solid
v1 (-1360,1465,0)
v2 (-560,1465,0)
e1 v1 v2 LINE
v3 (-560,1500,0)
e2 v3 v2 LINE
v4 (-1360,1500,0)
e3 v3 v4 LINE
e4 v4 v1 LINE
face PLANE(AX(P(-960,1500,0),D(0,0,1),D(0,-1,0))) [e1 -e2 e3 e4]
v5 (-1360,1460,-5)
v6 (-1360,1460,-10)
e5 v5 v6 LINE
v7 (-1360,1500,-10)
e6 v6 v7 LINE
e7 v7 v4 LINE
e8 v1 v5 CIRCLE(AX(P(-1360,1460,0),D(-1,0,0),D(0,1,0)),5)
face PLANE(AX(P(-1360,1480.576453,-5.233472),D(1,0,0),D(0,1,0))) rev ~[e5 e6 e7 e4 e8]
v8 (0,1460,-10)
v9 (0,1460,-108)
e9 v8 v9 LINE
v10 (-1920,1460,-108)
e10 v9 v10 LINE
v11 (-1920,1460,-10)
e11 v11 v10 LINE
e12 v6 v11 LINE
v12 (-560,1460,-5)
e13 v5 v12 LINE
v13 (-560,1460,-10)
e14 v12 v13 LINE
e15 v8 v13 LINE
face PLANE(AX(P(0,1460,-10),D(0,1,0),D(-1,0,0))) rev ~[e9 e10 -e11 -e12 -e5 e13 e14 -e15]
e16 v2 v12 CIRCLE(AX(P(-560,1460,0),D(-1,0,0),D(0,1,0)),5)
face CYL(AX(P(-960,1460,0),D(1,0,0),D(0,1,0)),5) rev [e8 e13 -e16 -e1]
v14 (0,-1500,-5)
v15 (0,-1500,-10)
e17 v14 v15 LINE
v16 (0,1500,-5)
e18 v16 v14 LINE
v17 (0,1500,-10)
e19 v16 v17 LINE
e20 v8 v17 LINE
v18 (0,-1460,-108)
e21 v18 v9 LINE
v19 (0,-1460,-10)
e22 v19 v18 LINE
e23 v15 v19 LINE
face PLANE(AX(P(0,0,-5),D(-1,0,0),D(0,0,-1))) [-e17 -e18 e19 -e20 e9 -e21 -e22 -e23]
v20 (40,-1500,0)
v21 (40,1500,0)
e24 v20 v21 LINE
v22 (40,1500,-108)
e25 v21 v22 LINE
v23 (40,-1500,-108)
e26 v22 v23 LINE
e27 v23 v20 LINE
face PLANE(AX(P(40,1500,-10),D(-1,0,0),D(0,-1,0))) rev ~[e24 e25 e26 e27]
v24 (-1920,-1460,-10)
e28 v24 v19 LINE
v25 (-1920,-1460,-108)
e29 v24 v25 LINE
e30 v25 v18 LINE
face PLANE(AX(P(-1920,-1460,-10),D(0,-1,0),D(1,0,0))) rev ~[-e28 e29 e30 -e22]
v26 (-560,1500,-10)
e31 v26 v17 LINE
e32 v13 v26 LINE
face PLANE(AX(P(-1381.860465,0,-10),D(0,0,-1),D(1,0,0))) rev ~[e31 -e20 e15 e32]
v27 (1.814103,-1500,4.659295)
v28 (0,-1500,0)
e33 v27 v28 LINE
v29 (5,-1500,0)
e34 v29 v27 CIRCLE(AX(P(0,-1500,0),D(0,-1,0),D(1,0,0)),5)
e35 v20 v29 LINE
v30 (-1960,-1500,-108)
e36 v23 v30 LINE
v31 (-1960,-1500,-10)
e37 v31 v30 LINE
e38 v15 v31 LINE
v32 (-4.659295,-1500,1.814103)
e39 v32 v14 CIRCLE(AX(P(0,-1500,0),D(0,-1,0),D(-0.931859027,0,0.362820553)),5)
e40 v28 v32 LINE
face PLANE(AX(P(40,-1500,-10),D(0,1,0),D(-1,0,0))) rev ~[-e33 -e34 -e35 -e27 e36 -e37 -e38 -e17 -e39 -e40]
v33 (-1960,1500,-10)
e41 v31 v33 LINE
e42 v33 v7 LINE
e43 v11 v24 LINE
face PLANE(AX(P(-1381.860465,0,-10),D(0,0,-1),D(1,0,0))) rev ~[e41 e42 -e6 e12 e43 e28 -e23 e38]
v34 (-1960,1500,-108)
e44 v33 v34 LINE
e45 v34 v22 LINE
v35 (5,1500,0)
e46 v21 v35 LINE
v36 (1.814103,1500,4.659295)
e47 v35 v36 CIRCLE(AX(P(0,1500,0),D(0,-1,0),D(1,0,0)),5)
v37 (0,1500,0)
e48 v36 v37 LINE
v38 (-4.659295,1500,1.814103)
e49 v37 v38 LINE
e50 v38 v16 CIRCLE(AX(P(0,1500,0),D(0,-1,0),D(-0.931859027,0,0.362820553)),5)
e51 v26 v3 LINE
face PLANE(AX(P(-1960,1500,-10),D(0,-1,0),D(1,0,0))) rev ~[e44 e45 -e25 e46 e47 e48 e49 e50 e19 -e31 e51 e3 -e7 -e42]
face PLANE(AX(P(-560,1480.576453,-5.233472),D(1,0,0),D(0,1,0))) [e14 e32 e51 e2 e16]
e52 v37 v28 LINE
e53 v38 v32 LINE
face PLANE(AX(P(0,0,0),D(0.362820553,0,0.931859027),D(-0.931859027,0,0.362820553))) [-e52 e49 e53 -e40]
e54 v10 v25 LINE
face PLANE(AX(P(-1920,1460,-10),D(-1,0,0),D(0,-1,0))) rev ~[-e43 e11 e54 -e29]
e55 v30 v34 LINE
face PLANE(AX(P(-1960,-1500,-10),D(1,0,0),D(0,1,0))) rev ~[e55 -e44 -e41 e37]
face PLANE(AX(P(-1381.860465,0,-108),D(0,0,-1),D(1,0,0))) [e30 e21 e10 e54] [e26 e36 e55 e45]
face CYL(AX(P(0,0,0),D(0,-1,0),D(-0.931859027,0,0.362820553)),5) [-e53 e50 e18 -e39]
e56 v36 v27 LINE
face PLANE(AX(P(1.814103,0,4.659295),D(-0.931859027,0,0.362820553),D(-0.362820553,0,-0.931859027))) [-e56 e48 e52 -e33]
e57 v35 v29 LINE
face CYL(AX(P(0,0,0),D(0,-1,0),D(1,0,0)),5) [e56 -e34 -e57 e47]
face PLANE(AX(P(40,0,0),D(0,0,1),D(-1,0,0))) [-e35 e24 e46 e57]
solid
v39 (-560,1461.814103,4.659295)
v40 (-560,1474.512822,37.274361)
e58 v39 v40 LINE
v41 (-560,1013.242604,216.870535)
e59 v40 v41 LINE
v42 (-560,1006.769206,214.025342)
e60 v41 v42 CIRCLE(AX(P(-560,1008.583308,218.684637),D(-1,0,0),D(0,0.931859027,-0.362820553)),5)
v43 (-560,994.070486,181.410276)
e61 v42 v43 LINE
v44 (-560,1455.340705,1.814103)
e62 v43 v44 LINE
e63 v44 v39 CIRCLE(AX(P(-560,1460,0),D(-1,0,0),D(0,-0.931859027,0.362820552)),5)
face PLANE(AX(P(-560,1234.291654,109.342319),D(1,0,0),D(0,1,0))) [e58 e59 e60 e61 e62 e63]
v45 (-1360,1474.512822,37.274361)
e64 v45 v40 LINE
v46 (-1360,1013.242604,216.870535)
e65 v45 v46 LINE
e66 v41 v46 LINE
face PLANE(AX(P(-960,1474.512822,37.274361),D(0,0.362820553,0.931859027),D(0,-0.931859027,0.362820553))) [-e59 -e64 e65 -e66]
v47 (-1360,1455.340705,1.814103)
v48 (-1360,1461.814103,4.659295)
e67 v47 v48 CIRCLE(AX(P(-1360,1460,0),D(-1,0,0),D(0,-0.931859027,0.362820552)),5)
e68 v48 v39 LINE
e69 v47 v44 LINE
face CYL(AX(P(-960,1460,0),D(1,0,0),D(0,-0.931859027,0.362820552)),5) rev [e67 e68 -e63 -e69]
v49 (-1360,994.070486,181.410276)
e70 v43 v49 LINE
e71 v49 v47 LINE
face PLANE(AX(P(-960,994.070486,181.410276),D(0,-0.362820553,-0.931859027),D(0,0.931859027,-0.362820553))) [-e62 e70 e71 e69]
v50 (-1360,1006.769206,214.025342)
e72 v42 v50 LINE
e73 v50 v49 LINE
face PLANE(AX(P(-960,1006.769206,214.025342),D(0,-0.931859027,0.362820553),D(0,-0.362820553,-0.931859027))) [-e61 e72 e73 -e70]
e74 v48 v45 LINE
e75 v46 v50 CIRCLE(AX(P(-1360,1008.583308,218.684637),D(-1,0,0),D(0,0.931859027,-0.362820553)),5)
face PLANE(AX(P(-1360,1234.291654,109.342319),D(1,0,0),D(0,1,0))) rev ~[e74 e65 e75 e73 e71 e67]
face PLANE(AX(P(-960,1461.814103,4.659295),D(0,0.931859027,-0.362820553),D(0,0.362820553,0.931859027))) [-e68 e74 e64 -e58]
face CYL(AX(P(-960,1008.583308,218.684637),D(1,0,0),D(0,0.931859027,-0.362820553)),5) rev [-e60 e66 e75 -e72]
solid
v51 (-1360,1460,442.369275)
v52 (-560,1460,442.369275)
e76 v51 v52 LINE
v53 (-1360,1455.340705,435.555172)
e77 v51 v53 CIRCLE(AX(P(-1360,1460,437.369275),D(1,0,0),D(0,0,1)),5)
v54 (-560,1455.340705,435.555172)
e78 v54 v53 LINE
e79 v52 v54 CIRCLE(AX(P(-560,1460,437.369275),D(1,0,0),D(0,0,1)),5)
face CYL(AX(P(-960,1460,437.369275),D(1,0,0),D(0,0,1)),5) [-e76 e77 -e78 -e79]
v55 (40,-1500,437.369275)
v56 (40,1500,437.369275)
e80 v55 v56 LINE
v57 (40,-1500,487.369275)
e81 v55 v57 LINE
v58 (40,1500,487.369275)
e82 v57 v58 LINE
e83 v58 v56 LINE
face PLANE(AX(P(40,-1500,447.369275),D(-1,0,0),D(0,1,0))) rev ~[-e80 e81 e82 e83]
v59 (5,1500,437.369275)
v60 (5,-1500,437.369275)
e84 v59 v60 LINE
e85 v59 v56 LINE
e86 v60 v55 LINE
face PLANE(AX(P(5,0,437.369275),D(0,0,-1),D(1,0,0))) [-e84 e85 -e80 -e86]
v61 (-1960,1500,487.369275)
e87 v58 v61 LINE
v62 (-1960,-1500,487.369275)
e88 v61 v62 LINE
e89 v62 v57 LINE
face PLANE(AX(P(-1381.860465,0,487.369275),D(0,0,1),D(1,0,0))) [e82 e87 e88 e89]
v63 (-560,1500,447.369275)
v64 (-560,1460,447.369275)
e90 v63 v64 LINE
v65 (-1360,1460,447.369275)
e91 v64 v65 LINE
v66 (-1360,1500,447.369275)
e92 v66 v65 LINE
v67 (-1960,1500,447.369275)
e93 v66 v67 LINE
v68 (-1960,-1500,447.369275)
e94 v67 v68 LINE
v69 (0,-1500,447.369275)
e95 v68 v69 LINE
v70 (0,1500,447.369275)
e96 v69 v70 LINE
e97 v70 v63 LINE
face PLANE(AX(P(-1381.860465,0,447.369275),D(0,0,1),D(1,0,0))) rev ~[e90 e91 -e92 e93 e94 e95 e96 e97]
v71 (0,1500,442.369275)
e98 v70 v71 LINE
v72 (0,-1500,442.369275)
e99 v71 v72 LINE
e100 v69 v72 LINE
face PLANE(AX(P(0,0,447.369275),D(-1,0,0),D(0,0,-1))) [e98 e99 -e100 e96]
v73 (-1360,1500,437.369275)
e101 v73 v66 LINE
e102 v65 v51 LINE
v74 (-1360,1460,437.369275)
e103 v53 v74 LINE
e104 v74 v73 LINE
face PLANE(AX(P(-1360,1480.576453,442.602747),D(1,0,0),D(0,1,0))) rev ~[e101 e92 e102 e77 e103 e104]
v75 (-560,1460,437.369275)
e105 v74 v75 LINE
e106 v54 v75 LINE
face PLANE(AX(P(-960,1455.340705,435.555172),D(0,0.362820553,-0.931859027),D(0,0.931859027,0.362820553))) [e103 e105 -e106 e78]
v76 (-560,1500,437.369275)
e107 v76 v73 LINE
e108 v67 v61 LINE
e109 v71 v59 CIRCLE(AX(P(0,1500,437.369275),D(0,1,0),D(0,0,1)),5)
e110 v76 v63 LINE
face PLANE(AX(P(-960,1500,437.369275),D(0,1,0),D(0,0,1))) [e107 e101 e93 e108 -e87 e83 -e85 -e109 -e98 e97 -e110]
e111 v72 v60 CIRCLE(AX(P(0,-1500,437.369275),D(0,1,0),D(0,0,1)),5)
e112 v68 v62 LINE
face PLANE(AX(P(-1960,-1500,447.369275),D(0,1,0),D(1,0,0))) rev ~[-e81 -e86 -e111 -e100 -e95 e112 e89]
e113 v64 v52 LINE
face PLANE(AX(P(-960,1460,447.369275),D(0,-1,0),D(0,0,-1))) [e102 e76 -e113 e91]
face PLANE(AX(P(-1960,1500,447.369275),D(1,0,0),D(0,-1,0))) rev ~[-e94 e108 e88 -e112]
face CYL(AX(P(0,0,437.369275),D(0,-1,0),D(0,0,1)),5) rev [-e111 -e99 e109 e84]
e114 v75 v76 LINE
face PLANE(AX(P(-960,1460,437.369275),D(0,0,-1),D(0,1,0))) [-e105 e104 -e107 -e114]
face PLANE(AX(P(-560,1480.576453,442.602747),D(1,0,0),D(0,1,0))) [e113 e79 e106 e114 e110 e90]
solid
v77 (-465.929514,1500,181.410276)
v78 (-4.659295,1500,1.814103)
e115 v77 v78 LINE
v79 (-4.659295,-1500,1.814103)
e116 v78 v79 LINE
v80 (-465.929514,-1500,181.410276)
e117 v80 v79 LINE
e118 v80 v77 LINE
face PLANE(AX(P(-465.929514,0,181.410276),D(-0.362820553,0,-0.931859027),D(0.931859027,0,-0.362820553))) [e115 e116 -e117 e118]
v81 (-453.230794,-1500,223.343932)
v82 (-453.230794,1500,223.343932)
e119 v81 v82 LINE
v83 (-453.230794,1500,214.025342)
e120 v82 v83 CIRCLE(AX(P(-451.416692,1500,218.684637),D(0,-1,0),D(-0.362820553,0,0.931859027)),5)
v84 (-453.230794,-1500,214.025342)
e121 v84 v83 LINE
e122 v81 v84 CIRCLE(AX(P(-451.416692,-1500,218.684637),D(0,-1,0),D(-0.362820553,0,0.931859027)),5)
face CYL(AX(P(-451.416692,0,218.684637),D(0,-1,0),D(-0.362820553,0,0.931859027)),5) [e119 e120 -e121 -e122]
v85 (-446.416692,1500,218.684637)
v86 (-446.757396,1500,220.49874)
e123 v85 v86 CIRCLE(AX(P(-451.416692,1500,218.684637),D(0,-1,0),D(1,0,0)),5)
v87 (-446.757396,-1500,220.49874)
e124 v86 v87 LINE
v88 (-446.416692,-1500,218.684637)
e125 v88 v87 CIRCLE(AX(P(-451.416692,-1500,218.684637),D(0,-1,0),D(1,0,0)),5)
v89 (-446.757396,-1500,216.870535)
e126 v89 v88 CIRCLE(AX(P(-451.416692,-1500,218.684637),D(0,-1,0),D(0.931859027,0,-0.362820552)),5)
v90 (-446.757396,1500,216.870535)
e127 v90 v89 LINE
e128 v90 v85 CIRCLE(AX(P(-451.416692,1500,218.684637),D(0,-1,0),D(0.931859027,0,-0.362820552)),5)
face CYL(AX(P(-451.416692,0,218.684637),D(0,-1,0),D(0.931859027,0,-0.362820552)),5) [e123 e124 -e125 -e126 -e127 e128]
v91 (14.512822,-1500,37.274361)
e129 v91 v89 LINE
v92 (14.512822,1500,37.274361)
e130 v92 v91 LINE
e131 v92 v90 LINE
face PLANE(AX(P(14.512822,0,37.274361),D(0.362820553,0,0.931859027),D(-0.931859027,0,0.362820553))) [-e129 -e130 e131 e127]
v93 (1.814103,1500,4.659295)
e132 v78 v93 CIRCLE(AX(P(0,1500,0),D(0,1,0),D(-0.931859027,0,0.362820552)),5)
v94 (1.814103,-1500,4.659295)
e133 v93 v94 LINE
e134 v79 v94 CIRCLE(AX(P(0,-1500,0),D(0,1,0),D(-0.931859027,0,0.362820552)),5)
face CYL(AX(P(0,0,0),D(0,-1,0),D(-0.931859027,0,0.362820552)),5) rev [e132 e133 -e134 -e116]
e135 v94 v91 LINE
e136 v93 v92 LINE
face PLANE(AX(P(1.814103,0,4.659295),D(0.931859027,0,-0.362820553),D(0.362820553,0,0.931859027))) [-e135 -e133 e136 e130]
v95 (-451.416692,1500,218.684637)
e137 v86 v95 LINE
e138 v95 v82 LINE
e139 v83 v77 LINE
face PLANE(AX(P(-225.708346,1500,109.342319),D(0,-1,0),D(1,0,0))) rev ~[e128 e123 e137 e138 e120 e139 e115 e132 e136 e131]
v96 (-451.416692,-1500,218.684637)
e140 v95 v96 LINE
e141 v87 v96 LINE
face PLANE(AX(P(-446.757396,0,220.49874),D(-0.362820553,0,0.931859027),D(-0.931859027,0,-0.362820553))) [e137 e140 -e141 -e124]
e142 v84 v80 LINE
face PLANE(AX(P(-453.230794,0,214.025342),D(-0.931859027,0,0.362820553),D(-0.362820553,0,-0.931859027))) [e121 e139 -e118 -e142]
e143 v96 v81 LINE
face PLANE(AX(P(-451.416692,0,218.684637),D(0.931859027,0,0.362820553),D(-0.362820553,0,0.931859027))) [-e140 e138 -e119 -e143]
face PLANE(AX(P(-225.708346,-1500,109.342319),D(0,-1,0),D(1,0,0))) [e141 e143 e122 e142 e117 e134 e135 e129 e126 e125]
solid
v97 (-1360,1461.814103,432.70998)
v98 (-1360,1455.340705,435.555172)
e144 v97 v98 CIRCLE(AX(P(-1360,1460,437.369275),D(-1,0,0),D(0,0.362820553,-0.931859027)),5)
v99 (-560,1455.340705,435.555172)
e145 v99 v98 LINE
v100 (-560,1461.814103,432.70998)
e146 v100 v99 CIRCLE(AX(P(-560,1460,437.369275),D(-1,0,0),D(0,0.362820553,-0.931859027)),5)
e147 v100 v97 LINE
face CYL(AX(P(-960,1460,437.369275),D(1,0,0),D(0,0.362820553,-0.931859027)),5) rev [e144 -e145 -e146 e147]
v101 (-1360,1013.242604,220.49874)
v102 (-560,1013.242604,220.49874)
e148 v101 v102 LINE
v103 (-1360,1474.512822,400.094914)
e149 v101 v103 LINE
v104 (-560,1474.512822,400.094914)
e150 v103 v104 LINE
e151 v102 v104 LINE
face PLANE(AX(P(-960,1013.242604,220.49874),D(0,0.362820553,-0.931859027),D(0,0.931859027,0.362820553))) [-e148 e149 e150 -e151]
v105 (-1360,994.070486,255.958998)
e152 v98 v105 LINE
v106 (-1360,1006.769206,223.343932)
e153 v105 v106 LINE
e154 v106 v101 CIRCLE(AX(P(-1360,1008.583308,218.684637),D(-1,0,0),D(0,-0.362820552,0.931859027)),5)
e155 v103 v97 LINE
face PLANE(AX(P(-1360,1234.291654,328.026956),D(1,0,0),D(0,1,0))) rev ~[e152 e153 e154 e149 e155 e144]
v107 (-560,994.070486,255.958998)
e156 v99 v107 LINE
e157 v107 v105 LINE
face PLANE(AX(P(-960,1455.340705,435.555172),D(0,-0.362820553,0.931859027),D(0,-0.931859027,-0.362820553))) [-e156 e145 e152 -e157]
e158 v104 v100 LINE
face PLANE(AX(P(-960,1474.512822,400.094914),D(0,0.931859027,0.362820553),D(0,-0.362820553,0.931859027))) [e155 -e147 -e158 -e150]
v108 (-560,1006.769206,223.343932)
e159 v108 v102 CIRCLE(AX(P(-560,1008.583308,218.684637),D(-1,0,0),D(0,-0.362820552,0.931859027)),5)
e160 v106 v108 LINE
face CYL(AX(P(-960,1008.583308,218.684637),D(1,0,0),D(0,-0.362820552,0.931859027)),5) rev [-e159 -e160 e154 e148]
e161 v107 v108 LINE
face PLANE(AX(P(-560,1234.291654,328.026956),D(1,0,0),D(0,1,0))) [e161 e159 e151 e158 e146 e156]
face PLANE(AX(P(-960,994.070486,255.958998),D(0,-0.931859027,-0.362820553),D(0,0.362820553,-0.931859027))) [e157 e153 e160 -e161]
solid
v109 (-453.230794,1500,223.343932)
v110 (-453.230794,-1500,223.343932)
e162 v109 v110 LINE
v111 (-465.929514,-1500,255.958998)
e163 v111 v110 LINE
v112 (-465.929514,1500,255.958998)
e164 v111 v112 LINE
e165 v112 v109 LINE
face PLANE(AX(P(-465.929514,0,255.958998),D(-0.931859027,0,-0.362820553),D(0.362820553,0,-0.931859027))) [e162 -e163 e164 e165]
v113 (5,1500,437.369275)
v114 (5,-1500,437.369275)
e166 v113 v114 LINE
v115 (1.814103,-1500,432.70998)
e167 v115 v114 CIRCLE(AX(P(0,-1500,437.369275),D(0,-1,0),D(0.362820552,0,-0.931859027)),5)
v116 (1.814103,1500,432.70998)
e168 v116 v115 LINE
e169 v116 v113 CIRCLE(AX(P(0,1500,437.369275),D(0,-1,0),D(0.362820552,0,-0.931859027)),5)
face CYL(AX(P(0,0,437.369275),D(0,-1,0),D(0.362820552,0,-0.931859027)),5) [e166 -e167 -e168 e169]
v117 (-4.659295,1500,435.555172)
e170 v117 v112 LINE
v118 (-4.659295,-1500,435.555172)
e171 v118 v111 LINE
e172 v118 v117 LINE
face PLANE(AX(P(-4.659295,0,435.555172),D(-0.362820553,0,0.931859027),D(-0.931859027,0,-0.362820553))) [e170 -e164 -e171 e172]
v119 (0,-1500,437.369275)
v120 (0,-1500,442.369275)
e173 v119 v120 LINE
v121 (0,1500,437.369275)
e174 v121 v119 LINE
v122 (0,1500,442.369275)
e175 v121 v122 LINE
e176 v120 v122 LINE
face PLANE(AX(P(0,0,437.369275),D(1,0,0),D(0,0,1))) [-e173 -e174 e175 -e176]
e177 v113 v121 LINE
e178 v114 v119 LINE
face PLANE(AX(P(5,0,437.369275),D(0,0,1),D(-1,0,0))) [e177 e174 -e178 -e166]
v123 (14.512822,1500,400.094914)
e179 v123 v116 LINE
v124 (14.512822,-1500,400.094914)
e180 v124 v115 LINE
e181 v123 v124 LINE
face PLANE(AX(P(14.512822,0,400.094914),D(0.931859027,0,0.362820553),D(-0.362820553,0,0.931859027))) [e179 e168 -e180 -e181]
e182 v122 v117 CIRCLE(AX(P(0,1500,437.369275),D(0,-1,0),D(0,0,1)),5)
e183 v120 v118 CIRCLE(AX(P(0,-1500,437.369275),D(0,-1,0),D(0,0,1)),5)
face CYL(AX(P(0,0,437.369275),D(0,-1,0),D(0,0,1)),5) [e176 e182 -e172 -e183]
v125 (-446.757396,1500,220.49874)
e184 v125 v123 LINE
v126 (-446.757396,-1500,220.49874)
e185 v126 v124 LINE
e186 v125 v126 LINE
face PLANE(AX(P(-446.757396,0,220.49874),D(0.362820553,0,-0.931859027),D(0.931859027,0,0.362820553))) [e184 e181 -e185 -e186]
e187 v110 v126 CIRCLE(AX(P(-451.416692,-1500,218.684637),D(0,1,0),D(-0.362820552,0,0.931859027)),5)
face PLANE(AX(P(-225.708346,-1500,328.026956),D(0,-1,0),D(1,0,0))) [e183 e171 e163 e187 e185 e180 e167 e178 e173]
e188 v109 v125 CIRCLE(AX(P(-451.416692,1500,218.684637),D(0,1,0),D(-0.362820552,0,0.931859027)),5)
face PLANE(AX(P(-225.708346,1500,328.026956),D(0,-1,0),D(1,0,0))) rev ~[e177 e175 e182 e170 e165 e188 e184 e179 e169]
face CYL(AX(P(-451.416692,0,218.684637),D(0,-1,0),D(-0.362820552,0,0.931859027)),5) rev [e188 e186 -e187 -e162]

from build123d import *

# Parameters (mm, degrees)
F1_DEPTH = 1500
F2_W     = 1920
F2_H     = 2920
F3_DEPTH = 40
F5_DEPTH = 98
F9_DEPTH = 400


with BuildPart() as f1:
    # F0 (on Front) → F1 (new body, symmetric)
    with BuildSketch(Plane.XZ):
        with BuildLine():
            Line((0, 447.3692746821), (0, 442.3692746821))
            ThreePointArc((0, 442.3692746821), (3.5355339059, 440.904808588), (5, 437.3692746821))
            Line((5, 437.3692746821), (40, 437.3692746821))
            Line((40, 437.3692746821), (40, 447.3692746821))
            Line((40, 447.3692746821), (0, 447.3692746821))
        make_face()
    extrude(amount=F1_DEPTH, both=True)

    # F2 (on face) → F3 (join)
    with BuildSketch(Plane.XY.offset(447.3692746821)):
        Polygon((0, 1460), (0, 1500), (-1960, 1500), (-1960, -1500), (0, -1500), (0, -1460), (-1920, -1460), (-1920, 1460), align=None)
        Polygon((40, -1500), (40, 1500), (0, 1500), (0, 1460), (0, -1460), (0, -1500), align=None)
        with Locations((-960, 0)):
            Rectangle(F2_W, F2_H)
    extrude(amount=F3_DEPTH)



with BuildPart() as f1b:
    # F0 (on Front) → F1, piece 2 (new body, symmetric)
    with BuildSketch(Plane.XZ):
        with BuildLine():
            Line((-465.9295136291, 255.9589984314), (-453.2307942915, 223.3439324773))
            ThreePointArc((-453.2307942915, 223.3439324773), (-449.4048367078, 223.2620208926), (-446.7573963927, 220.4987401035))
            Line((-446.7573963927, 220.4987401035), (14.5128221001, 400.0949135917))
            Line((14.5128221001, 400.0949135917), (1.8141027625, 432.7099795458))
            ThreePointArc((1.8141027625, 432.7099795458), (-2.0118548213, 432.7918911305), (-4.6592951363, 435.5551719196))
            Line((-4.6592951363, 435.5551719196), (-465.9295136291, 255.9589984314))
        make_face()
        with BuildLine():
            Line((0, 437.3692746821), (1.8141027625, 432.7099795458))
            ThreePointArc((1.8141027625, 432.7099795458), (4.127378939, 434.5470870388), (5, 437.3692746821))
            Line((5, 437.3692746821), (0, 437.3692746821))
        make_face()
        with BuildLine():
            Line((0, 437.3692746821), (-4.6592951363, 435.5551719196))
            ThreePointArc((-4.6592951363, 435.5551719196), (-2.0118548213, 432.7918911305), (1.8141027625, 432.7099795458))
            Line((1.8141027625, 432.7099795458), (0, 437.3692746821))
        make_face()
        with BuildLine():
            ThreePointArc((0, 442.3692746821), (-4.127378939, 440.1914623253), (-4.6592951363, 435.5551719196))
            Line((-4.6592951363, 435.5551719196), (0, 437.3692746821))
            Line((0, 437.3692746821), (0, 442.3692746821))
        make_face()
    extrude(amount=F1_DEPTH, both=True)


with BuildPart() as f1c:
    # F0 (on Front) → F1, piece 3 (new body, symmetric)
    with BuildSketch(Plane.XZ):
        with BuildLine():
            Line((-465.9295136291, 181.4102762507), (-4.6592951363, 1.8141027625))
            ThreePointArc((-4.6592951363, 1.8141027625), (-2.0118548213, 4.5773835516), (1.8141027625, 4.6592951363))
            Line((1.8141027625, 4.6592951363), (14.5128221001, 37.2743610903))
            Line((14.5128221001, 37.2743610903), (-446.7573963927, 216.8705345785))
            ThreePointArc((-446.7573963927, 216.8705345785), (-449.4048367078, 214.1072537895), (-453.2307942915, 214.0253422047))
            Line((-453.2307942915, 214.0253422047), (-465.9295136291, 181.4102762507))
        make_face()
        with BuildLine():
            Line((-451.416691529, 218.684637341), (-453.2307942915, 214.0253422047))
            ThreePointArc((-453.2307942915, 214.0253422047), (-449.4048367078, 214.1072537895), (-446.7573963927, 216.8705345785))
            Line((-446.7573963927, 216.8705345785), (-451.416691529, 218.684637341))
        make_face()
        with BuildLine():
            Line((-451.416691529, 218.684637341), (-446.7573963927, 216.8705345785))
            ThreePointArc((-446.7573963927, 216.8705345785), (-446.5026058724, 217.761727725), (-446.416691529, 218.684637341))
            ThreePointArc((-446.416691529, 218.684637341), (-446.5026058724, 219.607546957), (-446.7573963927, 220.4987401035))
            Line((-446.7573963927, 220.4987401035), (-451.416691529, 218.684637341))
        make_face()
        with BuildLine():
            ThreePointArc((-453.2307942915, 223.3439324773), (-456.416691529, 218.684637341), (-453.2307942915, 214.0253422047))
            Line((-453.2307942915, 214.0253422047), (-451.416691529, 218.684637341))
            Line((-451.416691529, 218.684637341), (-453.2307942915, 223.3439324773))
        make_face()
    extrude(amount=F1_DEPTH, both=True)


with BuildPart() as f1d:
    # F0 (on Front) → F1, piece 4 (new body, symmetric)
    with BuildSketch(Plane.XZ):
        with BuildLine():
            Line((40, 0), (5, 0))
            ThreePointArc((5, 0), (3.5355339059, -3.5355339059), (0, -5))
            Line((0, -5), (0, -10))
            Line((0, -10), (40, -10))
            Line((40, -10), (40, 0))
        make_face()
        with BuildLine():
            Line((5, 0), (0, 0))
            Line((0, 0), (0, -5))
            ThreePointArc((0, -5), (3.5355339059, -3.5355339059), (5, 0))
        make_face()
        with BuildLine():
            Line((1.8141027625, 4.6592951363), (0, 0))
            Line((0, 0), (5, 0))
            ThreePointArc((5, 0), (4.127378939, 2.8221876433), (1.8141027625, 4.6592951363))
        make_face()
        with BuildLine():
            Line((0, -5), (0, 0))
            Line((0, 0), (-4.6592951363, 1.8141027625))
            ThreePointArc((-4.6592951363, 1.8141027625), (-4.127378939, -2.8221876433), (0, -5))
        make_face()
    extrude(amount=F1_DEPTH, both=True)

    # F4 (on face) → F5 (join)
    with BuildSketch(Plane(origin=(0, 0, -10), x_dir=(1, 0, 0), z_dir=(0, 0, -1))):
        Polygon((0, 1460), (0, 1500), (-1960, 1500), (-1960, -1500), (0, -1500), (0, -1460), (-1920, -1460), (-1920, 1460), align=None)
        Polygon((40, -1500), (40, 1500), (0, 1500), (0, 1460), (0, -1460), (0, -1500), align=None)
    extrude(amount=F5_DEPTH)

    # F8 (on plane+point) → F9, piece 4 (join, symmetric)
    with BuildSketch(Plane.YZ.offset(-960)):
        with BuildLine():
            Line((1500, 0), (1465, 0))
            ThreePointArc((1465, 0), (1463.5355339059, -3.5355339059), (1460, -5))
            Line((1460, -5), (1460, -10))
            Line((1460, -10), (1500, -10))
            Line((1500, -10), (1500, 0))
        make_face()
    extrude(amount=F9_DEPTH, both=True)


with BuildPart() as f9:
    # F8 (on plane+point) → F9 (new body, symmetric)
    with BuildSketch(Plane.YZ.offset(-960)):
        with BuildLine():
            Line((994.0704863709, 255.9589984314), (1006.7692057085, 223.3439324773))
            ThreePointArc((1006.7692057085, 223.3439324773), (1010.5951632922, 223.2620208926), (1013.2426036073, 220.4987401035))
            Line((1013.2426036073, 220.4987401035), (1474.5128221001, 400.0949135917))
            Line((1474.5128221001, 400.0949135917), (1461.8141027625, 432.7099795458))
            ThreePointArc((1461.8141027625, 432.7099795458), (1457.9881451787, 432.7918911305), (1455.3407048637, 435.5551719196))
            Line((1455.3407048637, 435.5551719196), (994.0704863709, 255.9589984314))
        make_face()
    extrude(amount=F9_DEPTH, both=True)


with BuildPart() as f9b:
    # F8 (on plane+point) → F9, piece 2 (new body, symmetric)
    with BuildSketch(Plane.YZ.offset(-960)):
        with BuildLine():
            Line((994.0704863709, 181.4102762507), (1455.3407048637, 1.8141027625))
            ThreePointArc((1455.3407048637, 1.8141027625), (1457.9881451787, 4.5773835516), (1461.8141027625, 4.6592951363))
            Line((1461.8141027625, 4.6592951363), (1474.5128221001, 37.2743610903))
            Line((1474.5128221001, 37.2743610903), (1013.2426036073, 216.8705345785))
            ThreePointArc((1013.2426036073, 216.8705345785), (1010.5951632922, 214.1072537895), (1006.7692057085, 214.0253422047))
            Line((1006.7692057085, 214.0253422047), (994.0704863709, 181.4102762507))
        make_face()
    extrude(amount=F9_DEPTH, both=True)


with BuildPart() as f1_1:
    add(f1.part)

    add(f9.part)  # F9#3 merges F9
    # F8 (on plane+point) → F9, piece 3 (join, symmetric)
    with BuildSketch(Plane.YZ.offset(-960)):
        with BuildLine():
            Line((1460, 447.3692746821), (1460, 442.3692746821))
            ThreePointArc((1460, 442.3692746821), (1463.5355339059, 440.904808588), (1465, 437.3692746821))
            Line((1465, 437.3692746821), (1500, 437.3692746821))
            Line((1500, 437.3692746821), (1500, 447.3692746821))
            Line((1500, 447.3692746821), (1460, 447.3692746821))
        make_face()
        with BuildLine():
            Line((1460, 442.3692746821), (1460, 437.3692746821))
            Line((1460, 437.3692746821), (1465, 437.3692746821))
            ThreePointArc((1465, 437.3692746821), (1463.5355339059, 440.904808588), (1460, 442.3692746821))
        make_face()
        with BuildLine():
            ThreePointArc((1460, 442.3692746821), (1455.872621061, 440.1914623253), (1455.3407048637, 435.5551719196))
            Line((1455.3407048637, 435.5551719196), (1460, 437.3692746821))
            Line((1460, 437.3692746821), (1460, 442.3692746821))
        make_face()
    extrude(amount=F9_DEPTH, both=True)


solid = Compound([f1b.part, f1c.part, f1d.part, f9b.part, f1_1.part])
